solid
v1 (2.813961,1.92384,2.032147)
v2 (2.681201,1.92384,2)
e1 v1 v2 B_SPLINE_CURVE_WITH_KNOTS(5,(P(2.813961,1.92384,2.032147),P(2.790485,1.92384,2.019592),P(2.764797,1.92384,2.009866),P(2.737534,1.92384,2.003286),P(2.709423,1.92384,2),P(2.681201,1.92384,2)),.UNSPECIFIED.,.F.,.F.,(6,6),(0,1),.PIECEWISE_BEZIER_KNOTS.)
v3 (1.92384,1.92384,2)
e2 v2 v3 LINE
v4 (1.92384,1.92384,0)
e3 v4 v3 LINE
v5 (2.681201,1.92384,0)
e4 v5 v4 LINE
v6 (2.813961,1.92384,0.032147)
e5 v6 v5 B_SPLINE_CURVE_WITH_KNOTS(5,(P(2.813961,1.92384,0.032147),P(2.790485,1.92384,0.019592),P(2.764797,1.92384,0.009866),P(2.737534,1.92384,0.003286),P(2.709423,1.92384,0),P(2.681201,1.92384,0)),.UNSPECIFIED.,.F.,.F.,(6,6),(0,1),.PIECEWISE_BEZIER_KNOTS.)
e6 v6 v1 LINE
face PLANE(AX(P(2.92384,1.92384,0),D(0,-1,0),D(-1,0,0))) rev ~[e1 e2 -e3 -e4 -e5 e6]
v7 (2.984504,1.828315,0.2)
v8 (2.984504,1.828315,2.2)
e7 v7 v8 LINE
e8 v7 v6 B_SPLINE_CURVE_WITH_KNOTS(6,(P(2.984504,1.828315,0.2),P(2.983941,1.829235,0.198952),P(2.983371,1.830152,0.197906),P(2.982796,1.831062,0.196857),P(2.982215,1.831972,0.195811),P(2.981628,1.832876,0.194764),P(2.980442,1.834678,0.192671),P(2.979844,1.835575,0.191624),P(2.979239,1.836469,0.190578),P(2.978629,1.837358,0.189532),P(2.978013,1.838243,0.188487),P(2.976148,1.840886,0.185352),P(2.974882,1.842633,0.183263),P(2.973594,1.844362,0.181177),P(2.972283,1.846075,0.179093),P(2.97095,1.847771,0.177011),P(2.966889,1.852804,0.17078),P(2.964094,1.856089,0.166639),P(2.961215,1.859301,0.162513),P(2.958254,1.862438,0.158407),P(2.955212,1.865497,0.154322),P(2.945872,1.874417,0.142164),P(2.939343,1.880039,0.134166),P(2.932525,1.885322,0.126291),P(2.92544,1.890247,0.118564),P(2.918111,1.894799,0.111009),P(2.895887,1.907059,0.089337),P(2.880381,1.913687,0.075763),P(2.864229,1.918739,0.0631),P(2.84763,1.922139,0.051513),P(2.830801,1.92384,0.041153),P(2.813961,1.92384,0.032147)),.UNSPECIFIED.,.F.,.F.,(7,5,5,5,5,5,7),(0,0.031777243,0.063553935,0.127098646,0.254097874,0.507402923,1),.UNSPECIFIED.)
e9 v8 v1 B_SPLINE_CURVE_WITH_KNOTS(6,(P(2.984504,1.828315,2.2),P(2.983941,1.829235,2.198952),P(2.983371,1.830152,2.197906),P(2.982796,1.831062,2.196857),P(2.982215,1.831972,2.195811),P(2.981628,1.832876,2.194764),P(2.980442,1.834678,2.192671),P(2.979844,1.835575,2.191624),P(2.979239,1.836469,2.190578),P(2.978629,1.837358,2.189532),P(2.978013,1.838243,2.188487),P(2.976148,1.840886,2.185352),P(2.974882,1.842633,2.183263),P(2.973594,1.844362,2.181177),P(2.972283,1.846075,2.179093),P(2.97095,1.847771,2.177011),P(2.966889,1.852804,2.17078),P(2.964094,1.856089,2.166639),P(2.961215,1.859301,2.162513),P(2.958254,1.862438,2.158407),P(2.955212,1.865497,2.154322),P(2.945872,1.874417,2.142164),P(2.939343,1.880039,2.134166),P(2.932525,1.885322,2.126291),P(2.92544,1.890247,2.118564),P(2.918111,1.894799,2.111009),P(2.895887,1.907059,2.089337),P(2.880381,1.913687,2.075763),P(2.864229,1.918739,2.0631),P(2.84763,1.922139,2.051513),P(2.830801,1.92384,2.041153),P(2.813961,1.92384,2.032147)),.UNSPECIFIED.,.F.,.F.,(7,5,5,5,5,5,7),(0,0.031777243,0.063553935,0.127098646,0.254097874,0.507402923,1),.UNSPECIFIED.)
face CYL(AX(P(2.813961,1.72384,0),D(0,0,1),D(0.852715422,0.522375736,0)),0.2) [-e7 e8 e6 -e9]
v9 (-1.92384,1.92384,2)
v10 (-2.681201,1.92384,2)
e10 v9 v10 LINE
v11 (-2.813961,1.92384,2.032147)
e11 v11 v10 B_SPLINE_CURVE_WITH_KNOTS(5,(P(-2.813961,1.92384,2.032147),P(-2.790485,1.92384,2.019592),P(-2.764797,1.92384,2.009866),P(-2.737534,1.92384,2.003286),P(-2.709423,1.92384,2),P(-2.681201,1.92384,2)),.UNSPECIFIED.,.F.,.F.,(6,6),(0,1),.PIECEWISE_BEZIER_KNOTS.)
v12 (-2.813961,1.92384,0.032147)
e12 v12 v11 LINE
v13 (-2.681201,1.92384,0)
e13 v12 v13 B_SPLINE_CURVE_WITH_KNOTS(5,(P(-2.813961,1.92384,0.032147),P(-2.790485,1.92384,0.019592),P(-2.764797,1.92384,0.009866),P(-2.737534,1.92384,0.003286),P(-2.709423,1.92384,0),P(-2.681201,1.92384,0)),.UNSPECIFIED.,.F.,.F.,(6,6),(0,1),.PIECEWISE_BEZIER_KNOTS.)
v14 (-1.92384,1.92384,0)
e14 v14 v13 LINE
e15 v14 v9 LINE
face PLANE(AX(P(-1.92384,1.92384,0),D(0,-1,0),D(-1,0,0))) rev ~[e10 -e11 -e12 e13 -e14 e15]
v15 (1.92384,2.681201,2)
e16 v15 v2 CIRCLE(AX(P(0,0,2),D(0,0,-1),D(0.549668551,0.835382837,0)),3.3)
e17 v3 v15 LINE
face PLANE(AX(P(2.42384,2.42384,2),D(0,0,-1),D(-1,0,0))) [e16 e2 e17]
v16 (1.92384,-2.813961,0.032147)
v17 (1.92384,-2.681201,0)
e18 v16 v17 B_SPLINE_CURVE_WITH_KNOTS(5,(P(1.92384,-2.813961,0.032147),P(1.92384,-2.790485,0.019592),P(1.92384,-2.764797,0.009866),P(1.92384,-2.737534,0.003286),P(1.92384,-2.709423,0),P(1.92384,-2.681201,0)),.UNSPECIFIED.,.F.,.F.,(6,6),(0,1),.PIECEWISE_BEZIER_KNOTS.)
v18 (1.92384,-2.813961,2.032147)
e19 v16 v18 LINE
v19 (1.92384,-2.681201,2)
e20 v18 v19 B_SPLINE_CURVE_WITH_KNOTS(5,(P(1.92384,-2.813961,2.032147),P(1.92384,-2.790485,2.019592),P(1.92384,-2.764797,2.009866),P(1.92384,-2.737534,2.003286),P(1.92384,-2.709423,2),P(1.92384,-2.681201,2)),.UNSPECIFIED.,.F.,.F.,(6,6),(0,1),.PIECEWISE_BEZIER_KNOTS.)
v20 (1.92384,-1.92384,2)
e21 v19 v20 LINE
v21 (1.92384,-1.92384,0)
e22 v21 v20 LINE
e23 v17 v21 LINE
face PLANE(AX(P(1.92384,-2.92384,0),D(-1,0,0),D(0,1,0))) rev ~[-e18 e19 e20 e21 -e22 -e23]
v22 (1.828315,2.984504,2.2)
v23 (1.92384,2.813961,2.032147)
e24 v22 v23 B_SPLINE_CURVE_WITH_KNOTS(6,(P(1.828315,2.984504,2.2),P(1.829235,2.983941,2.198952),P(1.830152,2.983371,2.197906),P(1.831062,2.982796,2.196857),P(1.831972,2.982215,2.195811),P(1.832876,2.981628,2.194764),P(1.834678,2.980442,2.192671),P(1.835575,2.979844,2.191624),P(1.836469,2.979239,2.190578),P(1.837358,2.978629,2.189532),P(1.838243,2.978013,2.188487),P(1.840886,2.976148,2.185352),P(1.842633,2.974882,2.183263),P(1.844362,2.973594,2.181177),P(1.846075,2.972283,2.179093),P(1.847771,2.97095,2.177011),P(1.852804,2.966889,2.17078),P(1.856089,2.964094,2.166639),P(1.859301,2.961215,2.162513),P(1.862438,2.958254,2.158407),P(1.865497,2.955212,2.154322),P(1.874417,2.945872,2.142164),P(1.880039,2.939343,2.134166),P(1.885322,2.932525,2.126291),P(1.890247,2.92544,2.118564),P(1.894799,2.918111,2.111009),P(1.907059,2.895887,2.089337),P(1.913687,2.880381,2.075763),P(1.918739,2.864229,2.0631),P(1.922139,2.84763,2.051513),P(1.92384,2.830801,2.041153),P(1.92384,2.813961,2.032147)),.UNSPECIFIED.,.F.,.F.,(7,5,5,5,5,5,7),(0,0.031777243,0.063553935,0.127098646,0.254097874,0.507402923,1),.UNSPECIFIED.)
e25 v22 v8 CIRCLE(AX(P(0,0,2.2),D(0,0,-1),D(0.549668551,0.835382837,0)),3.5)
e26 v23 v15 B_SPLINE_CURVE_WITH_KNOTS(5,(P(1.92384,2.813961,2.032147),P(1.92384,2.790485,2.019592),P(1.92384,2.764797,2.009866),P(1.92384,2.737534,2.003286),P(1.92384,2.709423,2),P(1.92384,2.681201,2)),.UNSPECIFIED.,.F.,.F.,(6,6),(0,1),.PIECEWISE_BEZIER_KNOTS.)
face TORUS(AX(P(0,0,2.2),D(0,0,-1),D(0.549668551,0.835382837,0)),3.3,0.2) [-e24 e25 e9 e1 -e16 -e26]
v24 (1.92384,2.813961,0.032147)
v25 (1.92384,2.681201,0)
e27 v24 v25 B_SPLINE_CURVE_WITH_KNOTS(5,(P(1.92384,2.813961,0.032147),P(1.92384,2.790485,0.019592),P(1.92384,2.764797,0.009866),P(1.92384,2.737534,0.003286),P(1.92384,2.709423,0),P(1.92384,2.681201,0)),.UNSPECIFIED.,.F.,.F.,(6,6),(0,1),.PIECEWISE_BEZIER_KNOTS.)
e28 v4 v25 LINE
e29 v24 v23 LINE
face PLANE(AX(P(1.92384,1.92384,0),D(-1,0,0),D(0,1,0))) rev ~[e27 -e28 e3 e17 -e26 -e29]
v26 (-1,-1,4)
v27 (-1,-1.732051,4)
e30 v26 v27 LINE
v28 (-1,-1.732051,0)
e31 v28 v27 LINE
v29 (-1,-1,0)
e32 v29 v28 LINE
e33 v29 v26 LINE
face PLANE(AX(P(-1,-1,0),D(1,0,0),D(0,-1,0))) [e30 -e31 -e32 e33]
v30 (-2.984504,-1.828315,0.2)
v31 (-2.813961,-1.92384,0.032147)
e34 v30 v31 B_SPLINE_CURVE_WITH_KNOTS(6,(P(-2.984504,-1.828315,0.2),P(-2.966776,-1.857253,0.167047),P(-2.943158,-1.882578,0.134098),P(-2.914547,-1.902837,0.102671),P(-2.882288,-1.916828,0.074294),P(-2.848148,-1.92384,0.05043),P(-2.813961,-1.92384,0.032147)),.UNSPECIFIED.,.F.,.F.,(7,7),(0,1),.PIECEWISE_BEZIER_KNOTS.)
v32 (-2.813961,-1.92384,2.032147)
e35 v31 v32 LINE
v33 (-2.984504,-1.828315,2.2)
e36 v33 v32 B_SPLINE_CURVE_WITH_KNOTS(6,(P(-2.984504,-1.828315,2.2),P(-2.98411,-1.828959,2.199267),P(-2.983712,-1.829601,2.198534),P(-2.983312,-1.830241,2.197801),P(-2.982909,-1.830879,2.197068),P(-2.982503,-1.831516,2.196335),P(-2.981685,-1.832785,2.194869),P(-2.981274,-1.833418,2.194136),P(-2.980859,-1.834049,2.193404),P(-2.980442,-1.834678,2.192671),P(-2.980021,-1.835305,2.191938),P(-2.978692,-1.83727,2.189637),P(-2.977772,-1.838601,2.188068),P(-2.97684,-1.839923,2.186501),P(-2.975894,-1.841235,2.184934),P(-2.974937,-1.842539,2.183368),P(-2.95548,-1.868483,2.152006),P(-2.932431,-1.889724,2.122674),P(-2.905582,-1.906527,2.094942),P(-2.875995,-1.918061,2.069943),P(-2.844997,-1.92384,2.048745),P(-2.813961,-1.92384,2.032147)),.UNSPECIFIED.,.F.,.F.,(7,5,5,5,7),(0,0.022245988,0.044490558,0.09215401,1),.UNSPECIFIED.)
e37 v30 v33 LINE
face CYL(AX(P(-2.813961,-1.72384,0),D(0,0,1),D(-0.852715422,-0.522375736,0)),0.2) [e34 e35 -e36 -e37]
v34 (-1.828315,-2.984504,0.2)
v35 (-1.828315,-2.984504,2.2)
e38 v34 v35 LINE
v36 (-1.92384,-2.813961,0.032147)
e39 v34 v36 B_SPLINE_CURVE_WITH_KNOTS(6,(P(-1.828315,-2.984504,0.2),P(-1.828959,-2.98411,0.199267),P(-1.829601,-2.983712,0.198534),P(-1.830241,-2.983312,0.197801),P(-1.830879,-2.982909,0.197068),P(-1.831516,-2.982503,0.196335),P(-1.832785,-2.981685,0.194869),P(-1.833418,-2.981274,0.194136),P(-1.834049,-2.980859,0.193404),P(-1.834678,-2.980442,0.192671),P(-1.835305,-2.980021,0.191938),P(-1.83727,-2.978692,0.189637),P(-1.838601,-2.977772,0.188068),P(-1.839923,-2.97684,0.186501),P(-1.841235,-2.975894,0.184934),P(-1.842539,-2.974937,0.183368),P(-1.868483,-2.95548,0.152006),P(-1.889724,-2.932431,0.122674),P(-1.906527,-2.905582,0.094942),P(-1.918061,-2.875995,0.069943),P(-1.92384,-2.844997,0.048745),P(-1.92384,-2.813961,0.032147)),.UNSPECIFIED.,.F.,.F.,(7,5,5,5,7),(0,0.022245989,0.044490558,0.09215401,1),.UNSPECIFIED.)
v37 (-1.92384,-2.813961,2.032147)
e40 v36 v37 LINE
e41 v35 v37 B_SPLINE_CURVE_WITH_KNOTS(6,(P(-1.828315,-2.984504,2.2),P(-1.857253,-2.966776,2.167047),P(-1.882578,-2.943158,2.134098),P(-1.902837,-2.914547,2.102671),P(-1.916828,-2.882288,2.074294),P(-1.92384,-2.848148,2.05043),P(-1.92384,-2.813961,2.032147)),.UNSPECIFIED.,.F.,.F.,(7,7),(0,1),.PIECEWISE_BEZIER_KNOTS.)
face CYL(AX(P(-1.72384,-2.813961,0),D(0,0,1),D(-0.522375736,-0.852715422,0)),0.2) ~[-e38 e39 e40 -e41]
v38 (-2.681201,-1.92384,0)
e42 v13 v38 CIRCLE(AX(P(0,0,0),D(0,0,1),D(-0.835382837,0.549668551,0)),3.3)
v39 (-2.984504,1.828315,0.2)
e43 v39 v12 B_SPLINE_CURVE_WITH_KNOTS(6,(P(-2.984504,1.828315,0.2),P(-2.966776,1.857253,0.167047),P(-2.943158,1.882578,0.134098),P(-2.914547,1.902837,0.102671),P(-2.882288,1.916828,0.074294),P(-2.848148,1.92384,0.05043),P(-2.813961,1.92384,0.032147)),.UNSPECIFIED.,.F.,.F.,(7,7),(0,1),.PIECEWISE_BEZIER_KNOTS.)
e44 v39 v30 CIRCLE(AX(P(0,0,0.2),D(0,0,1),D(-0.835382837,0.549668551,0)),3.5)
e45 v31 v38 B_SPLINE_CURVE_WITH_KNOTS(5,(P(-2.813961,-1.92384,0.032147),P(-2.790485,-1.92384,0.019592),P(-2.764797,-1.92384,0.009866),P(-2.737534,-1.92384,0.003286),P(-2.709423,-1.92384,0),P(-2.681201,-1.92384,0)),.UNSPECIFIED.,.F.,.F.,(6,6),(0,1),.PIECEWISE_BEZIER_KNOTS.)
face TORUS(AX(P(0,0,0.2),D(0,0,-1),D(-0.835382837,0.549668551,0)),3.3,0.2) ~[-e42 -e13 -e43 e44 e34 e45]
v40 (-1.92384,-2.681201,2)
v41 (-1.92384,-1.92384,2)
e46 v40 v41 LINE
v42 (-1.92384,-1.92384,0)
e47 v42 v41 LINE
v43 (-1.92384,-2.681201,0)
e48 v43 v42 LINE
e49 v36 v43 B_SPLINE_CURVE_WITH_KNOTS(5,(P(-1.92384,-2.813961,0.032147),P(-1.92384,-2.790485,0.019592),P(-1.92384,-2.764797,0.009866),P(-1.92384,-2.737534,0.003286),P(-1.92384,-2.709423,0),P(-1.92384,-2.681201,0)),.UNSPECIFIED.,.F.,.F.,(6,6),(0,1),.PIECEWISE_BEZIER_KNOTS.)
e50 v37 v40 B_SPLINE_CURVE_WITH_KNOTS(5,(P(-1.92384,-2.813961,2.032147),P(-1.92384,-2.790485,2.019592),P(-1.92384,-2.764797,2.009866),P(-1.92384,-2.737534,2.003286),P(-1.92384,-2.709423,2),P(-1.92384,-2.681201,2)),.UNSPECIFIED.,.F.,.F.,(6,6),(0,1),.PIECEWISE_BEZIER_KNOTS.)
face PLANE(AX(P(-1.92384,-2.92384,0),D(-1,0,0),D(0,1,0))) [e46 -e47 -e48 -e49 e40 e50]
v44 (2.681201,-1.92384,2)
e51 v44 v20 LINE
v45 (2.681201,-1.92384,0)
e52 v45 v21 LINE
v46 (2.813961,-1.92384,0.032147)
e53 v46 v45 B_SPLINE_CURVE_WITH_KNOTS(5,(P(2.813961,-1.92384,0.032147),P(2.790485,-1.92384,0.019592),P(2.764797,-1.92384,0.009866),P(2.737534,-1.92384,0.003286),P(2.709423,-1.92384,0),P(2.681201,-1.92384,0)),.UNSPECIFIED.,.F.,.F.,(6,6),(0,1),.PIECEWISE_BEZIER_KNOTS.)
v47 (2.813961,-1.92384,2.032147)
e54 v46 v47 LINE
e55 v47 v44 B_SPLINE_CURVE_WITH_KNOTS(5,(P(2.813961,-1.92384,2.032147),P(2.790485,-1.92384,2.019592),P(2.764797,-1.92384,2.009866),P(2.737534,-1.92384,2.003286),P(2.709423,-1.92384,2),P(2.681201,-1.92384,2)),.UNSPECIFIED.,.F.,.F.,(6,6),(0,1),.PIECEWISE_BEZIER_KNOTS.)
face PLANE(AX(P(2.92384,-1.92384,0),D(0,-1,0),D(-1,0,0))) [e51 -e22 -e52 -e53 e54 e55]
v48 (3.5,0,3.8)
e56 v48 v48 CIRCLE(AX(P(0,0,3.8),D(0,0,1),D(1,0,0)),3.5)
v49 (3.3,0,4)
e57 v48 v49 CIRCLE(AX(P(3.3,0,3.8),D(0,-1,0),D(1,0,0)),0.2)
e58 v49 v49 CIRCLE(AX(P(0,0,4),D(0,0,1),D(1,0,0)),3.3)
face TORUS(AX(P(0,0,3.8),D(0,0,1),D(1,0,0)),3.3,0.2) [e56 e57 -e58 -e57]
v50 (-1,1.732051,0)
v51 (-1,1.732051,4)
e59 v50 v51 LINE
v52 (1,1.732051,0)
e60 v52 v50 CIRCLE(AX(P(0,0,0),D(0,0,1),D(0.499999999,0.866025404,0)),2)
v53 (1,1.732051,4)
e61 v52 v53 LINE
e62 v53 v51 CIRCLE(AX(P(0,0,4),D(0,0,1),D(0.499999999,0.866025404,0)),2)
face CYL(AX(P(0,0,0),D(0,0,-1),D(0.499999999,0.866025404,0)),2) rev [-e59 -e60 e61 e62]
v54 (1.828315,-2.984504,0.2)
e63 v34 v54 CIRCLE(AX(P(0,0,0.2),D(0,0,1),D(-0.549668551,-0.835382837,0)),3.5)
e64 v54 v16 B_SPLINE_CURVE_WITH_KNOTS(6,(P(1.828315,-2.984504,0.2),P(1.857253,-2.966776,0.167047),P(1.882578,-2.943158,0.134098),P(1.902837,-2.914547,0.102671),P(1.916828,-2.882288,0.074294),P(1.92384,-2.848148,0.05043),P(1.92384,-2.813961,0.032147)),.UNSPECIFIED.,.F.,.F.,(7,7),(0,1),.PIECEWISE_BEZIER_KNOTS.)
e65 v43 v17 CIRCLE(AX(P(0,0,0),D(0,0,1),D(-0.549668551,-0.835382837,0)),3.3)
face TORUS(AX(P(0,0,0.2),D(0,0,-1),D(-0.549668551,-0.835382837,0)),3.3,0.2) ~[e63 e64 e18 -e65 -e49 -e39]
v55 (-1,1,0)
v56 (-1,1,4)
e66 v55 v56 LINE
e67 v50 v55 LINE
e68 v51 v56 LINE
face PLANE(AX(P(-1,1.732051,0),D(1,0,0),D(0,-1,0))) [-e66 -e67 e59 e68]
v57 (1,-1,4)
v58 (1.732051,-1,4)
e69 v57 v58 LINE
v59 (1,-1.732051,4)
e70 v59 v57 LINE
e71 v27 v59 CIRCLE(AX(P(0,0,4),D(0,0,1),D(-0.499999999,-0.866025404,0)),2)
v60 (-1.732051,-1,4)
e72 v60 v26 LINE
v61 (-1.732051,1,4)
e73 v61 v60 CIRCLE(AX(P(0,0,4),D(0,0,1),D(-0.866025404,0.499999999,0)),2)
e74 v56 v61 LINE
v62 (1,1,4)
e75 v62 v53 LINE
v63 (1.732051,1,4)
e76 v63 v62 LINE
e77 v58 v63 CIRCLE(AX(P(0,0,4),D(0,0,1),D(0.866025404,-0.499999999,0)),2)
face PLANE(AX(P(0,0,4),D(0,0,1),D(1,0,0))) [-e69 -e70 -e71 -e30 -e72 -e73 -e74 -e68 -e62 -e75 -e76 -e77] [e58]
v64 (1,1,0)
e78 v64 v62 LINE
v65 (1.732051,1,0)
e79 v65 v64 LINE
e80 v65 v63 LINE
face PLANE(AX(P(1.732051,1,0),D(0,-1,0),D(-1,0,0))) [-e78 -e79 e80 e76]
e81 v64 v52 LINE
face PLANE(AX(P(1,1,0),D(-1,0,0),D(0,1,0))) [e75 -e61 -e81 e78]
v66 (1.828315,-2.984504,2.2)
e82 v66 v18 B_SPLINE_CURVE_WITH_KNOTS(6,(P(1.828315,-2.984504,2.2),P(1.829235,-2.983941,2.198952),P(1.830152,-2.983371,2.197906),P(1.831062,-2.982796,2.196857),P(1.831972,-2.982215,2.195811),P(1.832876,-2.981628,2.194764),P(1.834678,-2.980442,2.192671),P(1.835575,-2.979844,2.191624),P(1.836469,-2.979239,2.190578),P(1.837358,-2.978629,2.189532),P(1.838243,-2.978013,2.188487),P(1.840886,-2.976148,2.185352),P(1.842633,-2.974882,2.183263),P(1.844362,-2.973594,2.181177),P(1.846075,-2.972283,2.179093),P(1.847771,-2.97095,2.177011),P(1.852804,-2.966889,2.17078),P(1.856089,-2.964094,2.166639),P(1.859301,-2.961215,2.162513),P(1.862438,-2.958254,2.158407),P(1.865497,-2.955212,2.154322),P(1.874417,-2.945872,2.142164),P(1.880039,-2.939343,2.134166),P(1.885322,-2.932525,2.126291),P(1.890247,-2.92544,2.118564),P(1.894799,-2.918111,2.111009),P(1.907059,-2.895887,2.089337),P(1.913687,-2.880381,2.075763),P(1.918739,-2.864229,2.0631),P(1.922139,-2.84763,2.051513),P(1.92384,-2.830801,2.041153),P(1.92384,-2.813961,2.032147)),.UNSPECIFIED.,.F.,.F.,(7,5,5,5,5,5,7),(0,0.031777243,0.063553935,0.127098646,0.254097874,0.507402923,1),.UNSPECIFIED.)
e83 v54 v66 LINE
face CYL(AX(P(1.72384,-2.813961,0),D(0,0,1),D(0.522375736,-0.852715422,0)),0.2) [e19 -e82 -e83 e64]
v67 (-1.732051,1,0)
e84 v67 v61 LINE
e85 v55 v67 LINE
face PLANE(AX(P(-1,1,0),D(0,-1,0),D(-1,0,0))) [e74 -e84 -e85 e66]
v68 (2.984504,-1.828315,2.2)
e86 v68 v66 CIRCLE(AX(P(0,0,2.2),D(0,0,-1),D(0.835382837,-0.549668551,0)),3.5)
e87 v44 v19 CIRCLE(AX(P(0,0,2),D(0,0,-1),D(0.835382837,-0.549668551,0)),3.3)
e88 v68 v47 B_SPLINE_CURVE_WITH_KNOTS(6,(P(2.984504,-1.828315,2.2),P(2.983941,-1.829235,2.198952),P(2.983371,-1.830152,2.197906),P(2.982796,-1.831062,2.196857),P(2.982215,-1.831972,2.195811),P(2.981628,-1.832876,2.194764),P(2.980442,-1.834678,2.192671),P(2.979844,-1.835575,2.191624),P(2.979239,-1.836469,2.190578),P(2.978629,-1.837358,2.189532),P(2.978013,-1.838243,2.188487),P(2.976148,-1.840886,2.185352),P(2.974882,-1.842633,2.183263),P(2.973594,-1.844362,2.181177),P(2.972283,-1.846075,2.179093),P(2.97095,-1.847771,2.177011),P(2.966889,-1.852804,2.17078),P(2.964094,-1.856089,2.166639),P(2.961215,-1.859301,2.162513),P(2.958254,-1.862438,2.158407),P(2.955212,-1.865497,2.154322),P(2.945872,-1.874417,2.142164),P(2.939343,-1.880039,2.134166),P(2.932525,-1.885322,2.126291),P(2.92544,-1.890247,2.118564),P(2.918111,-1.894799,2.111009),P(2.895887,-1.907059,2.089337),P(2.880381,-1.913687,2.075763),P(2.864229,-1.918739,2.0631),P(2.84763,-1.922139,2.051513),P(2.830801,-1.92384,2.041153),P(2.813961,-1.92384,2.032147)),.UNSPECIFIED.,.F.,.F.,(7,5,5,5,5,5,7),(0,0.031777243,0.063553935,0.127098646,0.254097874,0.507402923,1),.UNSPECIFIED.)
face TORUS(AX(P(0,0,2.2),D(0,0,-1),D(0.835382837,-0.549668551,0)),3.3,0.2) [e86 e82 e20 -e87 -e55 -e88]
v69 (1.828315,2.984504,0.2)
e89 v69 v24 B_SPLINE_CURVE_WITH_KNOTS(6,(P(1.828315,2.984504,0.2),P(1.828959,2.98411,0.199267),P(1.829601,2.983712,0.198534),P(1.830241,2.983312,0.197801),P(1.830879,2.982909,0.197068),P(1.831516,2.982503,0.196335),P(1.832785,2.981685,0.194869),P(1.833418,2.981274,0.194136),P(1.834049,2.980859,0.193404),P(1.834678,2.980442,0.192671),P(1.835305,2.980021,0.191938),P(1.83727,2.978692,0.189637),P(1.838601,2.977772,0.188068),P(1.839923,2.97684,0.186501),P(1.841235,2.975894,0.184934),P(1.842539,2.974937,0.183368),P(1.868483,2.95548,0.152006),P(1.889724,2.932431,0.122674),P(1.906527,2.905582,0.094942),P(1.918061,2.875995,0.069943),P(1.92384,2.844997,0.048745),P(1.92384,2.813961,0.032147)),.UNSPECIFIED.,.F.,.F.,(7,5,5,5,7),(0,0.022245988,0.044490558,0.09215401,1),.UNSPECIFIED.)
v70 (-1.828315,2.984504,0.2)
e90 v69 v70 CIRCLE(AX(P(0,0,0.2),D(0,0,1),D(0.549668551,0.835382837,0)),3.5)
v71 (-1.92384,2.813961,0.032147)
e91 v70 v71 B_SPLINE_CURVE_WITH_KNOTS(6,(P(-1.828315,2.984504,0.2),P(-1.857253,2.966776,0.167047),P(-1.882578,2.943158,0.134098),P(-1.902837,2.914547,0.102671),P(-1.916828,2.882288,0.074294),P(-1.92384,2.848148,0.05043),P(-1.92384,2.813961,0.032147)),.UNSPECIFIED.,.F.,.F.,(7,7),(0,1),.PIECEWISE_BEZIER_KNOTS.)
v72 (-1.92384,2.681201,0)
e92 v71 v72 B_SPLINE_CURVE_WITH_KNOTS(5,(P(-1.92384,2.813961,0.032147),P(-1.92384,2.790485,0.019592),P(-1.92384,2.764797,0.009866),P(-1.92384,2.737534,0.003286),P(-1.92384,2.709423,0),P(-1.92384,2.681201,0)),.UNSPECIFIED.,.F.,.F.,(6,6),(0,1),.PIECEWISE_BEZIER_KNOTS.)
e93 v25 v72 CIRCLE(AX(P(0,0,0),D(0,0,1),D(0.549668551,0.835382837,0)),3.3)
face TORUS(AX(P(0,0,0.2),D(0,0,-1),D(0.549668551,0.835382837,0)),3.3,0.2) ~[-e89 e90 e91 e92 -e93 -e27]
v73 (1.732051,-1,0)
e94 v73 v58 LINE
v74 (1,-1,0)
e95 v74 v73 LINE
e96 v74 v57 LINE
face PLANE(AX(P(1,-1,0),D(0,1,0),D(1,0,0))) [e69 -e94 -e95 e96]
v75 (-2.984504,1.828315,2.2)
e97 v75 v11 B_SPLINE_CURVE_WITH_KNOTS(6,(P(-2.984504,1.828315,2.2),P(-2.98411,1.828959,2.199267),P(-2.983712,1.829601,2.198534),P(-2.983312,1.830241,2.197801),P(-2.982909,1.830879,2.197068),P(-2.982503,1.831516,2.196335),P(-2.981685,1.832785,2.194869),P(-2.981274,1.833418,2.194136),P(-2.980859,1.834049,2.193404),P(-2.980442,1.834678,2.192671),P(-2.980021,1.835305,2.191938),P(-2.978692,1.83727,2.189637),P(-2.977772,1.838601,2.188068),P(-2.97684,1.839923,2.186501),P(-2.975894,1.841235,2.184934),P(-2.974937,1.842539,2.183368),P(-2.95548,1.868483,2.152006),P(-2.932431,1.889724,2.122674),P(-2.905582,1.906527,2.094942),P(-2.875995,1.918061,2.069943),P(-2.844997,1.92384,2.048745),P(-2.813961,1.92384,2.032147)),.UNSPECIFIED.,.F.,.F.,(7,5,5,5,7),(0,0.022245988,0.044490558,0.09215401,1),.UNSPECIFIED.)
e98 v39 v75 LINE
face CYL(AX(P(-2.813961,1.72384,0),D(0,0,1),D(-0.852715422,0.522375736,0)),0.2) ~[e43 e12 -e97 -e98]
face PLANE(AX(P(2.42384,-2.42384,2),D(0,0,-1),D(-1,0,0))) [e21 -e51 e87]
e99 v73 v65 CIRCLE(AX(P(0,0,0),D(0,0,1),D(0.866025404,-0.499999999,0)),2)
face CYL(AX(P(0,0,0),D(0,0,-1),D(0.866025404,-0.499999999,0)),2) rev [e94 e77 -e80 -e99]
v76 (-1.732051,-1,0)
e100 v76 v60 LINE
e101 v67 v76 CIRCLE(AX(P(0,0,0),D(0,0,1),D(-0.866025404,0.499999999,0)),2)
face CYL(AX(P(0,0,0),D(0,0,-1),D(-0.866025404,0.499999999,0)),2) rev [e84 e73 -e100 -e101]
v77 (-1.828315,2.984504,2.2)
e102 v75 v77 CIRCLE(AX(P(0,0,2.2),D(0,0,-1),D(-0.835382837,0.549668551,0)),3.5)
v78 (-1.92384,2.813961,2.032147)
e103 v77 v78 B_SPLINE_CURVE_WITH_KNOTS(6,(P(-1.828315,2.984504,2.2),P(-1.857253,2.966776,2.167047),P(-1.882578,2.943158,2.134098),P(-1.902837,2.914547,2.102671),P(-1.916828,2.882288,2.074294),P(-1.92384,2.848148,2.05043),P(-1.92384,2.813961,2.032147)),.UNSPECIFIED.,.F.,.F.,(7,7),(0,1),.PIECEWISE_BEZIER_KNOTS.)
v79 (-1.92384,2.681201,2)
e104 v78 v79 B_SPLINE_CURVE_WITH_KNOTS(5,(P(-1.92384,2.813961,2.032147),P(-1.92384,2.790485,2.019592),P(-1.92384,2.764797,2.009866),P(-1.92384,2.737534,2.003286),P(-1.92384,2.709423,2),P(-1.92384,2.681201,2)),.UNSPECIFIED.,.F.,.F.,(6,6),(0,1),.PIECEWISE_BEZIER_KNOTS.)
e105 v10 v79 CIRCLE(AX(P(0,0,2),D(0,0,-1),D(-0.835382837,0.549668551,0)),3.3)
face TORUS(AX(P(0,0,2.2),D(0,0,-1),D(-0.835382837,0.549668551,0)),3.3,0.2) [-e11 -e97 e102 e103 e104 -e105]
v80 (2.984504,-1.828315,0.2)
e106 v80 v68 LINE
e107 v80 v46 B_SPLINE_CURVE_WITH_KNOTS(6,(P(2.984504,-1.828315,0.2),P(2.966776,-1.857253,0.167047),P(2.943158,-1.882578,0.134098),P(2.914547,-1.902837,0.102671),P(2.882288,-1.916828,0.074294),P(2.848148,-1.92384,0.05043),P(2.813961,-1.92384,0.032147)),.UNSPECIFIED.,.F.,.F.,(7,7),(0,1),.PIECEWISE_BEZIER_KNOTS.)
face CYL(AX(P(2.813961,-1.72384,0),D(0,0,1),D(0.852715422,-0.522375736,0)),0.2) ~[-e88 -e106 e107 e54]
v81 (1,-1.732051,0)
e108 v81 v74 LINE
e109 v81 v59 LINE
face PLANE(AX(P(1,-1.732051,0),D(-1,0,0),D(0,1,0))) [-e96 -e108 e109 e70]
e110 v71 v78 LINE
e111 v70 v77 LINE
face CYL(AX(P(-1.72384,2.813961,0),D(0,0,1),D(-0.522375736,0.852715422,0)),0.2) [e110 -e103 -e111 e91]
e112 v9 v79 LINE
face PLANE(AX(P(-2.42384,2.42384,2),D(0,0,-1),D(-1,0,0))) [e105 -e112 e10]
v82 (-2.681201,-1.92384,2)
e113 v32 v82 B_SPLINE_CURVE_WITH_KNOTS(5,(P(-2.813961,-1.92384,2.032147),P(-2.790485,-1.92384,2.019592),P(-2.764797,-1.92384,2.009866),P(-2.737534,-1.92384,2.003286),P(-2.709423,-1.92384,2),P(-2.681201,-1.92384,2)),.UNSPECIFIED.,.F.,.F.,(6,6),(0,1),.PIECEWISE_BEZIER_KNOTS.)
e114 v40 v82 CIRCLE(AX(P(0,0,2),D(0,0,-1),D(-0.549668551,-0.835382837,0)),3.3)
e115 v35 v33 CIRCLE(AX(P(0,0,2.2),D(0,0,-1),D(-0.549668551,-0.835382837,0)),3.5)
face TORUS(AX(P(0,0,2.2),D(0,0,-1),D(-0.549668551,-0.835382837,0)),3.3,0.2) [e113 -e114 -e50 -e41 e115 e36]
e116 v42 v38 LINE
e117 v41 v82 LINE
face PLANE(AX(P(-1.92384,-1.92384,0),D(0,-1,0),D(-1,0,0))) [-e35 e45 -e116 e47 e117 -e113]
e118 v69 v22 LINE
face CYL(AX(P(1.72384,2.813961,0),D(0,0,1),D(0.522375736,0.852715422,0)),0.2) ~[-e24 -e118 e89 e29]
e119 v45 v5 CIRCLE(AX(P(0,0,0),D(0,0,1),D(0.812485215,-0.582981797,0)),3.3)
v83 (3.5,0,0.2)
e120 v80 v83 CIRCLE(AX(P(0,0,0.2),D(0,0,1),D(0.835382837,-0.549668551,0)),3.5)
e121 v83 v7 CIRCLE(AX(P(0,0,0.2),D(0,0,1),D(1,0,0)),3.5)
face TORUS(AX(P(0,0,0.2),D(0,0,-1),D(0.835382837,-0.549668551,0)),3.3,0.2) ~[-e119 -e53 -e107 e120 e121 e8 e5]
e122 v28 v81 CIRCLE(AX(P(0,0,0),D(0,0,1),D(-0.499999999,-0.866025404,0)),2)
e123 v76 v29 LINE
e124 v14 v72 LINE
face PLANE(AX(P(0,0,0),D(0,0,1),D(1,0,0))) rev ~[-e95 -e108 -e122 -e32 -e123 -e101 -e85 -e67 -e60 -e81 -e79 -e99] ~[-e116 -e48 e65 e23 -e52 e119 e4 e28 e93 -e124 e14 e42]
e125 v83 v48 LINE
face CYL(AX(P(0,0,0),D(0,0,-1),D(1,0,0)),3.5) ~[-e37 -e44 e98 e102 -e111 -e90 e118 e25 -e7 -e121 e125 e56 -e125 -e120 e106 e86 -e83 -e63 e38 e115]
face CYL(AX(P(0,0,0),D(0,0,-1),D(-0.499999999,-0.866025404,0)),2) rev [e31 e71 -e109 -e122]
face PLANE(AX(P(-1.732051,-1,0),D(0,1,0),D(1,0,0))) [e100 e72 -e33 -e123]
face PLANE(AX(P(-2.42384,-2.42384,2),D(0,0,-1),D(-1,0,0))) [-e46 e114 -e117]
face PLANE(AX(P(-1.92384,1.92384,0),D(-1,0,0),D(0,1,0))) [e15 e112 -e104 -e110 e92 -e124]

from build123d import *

# Parameters (mm, degrees)
SKETCH1_R           = 3.5
BOSS_EXTRUDE1_DEPTH = 4
SKETCH2_W           = 1
SKETCH2_H           = 1
CUT_EXTRUDE1_DEPTH  = 2
FILLET1_R           = 0.2


with BuildPart() as part:
    # Sketch1 → Boss-Extrude1 (new body)
    with BuildSketch(Plane.XY):
        Circle(SKETCH1_R)
        with BuildLine():
            Line((1, -1), (1.732050808, -1))
            ThreePointArc((1.732050808, -1), (2, 0), (1.732050808, 1))
            Line((1.732050808, 1), (1, 1))
            Line((1, 1), (1, 1.732050808))
            ThreePointArc((1, 1.732050808), (0, 2), (-1, 1.732050808))
            Line((-1, 1.732050808), (-1, 1))
            Line((-1, 1), (-1.732050808, 1))
            ThreePointArc((-1.732050808, 1), (-2, 0), (-1.732050808, -1))
            Line((-1.732050808, -1), (-1, -1))
            Line((-1, -1), (-1, -1.732050808))
            ThreePointArc((-1, -1.732050808), (0, -2), (1, -1.732050808))
            Line((1, -1.732050808), (1, -1))
        make_face(mode=Mode.SUBTRACT)
    extrude(amount=BOSS_EXTRUDE1_DEPTH)

    # Sketch2 → Cut-Extrude1 (cut)
    with BuildSketch(Plane(origin=(0, 0, 0), x_dir=(-1, 0, 0), z_dir=(0, 0, -1))):
        with Locations((-2.423839929, 2.423839929)):
            Rectangle(SKETCH2_W, SKETCH2_H)
        with Locations((-2.423839929, -2.423839929)):
            Rectangle(SKETCH2_W, SKETCH2_H)
        with Locations((2.423839929, -2.423839929)):
            Rectangle(SKETCH2_W, SKETCH2_H)
        with Locations((2.423839929, 2.423839929)):
            Rectangle(SKETCH2_W, SKETCH2_H)
    extrude(amount=-CUT_EXTRUDE1_DEPTH, mode=Mode.SUBTRACT)

    # Fillet1
    fillet1_edges = [part.edges().sort_by_distance(p)[0] for p in [
        (0, 3.5, 0),
        (-3.5, 0, 0),
        (0, -3.5, 0),
        (3.352867411, 1.004131528, 0),
        (2.474873734, 2.474873734, 2),
        (2.474873734, -2.474873734, 2),
        (-3.5, 0, 4),
        (-2.474873734, -2.474873734, 2),
        (-2.474873734, 2.474873734, 2),
        (-2.923839929, 1.923839929, 1),
        (-1.923839929, 2.923839929, 1),
        (-1.923839929, -2.923839929, 1),
        (-2.923839929, -1.923839929, 1),
        (2.923839929, -1.923839929, 1),
        (1.923839929, -2.923839929, 1),
        (2.923839929, 1.923839929, 1),
        (1.923839929, 2.923839929, 1),
    ]]
    fillet(fillet1_edges, radius=FILLET1_R)


solid = part.part
